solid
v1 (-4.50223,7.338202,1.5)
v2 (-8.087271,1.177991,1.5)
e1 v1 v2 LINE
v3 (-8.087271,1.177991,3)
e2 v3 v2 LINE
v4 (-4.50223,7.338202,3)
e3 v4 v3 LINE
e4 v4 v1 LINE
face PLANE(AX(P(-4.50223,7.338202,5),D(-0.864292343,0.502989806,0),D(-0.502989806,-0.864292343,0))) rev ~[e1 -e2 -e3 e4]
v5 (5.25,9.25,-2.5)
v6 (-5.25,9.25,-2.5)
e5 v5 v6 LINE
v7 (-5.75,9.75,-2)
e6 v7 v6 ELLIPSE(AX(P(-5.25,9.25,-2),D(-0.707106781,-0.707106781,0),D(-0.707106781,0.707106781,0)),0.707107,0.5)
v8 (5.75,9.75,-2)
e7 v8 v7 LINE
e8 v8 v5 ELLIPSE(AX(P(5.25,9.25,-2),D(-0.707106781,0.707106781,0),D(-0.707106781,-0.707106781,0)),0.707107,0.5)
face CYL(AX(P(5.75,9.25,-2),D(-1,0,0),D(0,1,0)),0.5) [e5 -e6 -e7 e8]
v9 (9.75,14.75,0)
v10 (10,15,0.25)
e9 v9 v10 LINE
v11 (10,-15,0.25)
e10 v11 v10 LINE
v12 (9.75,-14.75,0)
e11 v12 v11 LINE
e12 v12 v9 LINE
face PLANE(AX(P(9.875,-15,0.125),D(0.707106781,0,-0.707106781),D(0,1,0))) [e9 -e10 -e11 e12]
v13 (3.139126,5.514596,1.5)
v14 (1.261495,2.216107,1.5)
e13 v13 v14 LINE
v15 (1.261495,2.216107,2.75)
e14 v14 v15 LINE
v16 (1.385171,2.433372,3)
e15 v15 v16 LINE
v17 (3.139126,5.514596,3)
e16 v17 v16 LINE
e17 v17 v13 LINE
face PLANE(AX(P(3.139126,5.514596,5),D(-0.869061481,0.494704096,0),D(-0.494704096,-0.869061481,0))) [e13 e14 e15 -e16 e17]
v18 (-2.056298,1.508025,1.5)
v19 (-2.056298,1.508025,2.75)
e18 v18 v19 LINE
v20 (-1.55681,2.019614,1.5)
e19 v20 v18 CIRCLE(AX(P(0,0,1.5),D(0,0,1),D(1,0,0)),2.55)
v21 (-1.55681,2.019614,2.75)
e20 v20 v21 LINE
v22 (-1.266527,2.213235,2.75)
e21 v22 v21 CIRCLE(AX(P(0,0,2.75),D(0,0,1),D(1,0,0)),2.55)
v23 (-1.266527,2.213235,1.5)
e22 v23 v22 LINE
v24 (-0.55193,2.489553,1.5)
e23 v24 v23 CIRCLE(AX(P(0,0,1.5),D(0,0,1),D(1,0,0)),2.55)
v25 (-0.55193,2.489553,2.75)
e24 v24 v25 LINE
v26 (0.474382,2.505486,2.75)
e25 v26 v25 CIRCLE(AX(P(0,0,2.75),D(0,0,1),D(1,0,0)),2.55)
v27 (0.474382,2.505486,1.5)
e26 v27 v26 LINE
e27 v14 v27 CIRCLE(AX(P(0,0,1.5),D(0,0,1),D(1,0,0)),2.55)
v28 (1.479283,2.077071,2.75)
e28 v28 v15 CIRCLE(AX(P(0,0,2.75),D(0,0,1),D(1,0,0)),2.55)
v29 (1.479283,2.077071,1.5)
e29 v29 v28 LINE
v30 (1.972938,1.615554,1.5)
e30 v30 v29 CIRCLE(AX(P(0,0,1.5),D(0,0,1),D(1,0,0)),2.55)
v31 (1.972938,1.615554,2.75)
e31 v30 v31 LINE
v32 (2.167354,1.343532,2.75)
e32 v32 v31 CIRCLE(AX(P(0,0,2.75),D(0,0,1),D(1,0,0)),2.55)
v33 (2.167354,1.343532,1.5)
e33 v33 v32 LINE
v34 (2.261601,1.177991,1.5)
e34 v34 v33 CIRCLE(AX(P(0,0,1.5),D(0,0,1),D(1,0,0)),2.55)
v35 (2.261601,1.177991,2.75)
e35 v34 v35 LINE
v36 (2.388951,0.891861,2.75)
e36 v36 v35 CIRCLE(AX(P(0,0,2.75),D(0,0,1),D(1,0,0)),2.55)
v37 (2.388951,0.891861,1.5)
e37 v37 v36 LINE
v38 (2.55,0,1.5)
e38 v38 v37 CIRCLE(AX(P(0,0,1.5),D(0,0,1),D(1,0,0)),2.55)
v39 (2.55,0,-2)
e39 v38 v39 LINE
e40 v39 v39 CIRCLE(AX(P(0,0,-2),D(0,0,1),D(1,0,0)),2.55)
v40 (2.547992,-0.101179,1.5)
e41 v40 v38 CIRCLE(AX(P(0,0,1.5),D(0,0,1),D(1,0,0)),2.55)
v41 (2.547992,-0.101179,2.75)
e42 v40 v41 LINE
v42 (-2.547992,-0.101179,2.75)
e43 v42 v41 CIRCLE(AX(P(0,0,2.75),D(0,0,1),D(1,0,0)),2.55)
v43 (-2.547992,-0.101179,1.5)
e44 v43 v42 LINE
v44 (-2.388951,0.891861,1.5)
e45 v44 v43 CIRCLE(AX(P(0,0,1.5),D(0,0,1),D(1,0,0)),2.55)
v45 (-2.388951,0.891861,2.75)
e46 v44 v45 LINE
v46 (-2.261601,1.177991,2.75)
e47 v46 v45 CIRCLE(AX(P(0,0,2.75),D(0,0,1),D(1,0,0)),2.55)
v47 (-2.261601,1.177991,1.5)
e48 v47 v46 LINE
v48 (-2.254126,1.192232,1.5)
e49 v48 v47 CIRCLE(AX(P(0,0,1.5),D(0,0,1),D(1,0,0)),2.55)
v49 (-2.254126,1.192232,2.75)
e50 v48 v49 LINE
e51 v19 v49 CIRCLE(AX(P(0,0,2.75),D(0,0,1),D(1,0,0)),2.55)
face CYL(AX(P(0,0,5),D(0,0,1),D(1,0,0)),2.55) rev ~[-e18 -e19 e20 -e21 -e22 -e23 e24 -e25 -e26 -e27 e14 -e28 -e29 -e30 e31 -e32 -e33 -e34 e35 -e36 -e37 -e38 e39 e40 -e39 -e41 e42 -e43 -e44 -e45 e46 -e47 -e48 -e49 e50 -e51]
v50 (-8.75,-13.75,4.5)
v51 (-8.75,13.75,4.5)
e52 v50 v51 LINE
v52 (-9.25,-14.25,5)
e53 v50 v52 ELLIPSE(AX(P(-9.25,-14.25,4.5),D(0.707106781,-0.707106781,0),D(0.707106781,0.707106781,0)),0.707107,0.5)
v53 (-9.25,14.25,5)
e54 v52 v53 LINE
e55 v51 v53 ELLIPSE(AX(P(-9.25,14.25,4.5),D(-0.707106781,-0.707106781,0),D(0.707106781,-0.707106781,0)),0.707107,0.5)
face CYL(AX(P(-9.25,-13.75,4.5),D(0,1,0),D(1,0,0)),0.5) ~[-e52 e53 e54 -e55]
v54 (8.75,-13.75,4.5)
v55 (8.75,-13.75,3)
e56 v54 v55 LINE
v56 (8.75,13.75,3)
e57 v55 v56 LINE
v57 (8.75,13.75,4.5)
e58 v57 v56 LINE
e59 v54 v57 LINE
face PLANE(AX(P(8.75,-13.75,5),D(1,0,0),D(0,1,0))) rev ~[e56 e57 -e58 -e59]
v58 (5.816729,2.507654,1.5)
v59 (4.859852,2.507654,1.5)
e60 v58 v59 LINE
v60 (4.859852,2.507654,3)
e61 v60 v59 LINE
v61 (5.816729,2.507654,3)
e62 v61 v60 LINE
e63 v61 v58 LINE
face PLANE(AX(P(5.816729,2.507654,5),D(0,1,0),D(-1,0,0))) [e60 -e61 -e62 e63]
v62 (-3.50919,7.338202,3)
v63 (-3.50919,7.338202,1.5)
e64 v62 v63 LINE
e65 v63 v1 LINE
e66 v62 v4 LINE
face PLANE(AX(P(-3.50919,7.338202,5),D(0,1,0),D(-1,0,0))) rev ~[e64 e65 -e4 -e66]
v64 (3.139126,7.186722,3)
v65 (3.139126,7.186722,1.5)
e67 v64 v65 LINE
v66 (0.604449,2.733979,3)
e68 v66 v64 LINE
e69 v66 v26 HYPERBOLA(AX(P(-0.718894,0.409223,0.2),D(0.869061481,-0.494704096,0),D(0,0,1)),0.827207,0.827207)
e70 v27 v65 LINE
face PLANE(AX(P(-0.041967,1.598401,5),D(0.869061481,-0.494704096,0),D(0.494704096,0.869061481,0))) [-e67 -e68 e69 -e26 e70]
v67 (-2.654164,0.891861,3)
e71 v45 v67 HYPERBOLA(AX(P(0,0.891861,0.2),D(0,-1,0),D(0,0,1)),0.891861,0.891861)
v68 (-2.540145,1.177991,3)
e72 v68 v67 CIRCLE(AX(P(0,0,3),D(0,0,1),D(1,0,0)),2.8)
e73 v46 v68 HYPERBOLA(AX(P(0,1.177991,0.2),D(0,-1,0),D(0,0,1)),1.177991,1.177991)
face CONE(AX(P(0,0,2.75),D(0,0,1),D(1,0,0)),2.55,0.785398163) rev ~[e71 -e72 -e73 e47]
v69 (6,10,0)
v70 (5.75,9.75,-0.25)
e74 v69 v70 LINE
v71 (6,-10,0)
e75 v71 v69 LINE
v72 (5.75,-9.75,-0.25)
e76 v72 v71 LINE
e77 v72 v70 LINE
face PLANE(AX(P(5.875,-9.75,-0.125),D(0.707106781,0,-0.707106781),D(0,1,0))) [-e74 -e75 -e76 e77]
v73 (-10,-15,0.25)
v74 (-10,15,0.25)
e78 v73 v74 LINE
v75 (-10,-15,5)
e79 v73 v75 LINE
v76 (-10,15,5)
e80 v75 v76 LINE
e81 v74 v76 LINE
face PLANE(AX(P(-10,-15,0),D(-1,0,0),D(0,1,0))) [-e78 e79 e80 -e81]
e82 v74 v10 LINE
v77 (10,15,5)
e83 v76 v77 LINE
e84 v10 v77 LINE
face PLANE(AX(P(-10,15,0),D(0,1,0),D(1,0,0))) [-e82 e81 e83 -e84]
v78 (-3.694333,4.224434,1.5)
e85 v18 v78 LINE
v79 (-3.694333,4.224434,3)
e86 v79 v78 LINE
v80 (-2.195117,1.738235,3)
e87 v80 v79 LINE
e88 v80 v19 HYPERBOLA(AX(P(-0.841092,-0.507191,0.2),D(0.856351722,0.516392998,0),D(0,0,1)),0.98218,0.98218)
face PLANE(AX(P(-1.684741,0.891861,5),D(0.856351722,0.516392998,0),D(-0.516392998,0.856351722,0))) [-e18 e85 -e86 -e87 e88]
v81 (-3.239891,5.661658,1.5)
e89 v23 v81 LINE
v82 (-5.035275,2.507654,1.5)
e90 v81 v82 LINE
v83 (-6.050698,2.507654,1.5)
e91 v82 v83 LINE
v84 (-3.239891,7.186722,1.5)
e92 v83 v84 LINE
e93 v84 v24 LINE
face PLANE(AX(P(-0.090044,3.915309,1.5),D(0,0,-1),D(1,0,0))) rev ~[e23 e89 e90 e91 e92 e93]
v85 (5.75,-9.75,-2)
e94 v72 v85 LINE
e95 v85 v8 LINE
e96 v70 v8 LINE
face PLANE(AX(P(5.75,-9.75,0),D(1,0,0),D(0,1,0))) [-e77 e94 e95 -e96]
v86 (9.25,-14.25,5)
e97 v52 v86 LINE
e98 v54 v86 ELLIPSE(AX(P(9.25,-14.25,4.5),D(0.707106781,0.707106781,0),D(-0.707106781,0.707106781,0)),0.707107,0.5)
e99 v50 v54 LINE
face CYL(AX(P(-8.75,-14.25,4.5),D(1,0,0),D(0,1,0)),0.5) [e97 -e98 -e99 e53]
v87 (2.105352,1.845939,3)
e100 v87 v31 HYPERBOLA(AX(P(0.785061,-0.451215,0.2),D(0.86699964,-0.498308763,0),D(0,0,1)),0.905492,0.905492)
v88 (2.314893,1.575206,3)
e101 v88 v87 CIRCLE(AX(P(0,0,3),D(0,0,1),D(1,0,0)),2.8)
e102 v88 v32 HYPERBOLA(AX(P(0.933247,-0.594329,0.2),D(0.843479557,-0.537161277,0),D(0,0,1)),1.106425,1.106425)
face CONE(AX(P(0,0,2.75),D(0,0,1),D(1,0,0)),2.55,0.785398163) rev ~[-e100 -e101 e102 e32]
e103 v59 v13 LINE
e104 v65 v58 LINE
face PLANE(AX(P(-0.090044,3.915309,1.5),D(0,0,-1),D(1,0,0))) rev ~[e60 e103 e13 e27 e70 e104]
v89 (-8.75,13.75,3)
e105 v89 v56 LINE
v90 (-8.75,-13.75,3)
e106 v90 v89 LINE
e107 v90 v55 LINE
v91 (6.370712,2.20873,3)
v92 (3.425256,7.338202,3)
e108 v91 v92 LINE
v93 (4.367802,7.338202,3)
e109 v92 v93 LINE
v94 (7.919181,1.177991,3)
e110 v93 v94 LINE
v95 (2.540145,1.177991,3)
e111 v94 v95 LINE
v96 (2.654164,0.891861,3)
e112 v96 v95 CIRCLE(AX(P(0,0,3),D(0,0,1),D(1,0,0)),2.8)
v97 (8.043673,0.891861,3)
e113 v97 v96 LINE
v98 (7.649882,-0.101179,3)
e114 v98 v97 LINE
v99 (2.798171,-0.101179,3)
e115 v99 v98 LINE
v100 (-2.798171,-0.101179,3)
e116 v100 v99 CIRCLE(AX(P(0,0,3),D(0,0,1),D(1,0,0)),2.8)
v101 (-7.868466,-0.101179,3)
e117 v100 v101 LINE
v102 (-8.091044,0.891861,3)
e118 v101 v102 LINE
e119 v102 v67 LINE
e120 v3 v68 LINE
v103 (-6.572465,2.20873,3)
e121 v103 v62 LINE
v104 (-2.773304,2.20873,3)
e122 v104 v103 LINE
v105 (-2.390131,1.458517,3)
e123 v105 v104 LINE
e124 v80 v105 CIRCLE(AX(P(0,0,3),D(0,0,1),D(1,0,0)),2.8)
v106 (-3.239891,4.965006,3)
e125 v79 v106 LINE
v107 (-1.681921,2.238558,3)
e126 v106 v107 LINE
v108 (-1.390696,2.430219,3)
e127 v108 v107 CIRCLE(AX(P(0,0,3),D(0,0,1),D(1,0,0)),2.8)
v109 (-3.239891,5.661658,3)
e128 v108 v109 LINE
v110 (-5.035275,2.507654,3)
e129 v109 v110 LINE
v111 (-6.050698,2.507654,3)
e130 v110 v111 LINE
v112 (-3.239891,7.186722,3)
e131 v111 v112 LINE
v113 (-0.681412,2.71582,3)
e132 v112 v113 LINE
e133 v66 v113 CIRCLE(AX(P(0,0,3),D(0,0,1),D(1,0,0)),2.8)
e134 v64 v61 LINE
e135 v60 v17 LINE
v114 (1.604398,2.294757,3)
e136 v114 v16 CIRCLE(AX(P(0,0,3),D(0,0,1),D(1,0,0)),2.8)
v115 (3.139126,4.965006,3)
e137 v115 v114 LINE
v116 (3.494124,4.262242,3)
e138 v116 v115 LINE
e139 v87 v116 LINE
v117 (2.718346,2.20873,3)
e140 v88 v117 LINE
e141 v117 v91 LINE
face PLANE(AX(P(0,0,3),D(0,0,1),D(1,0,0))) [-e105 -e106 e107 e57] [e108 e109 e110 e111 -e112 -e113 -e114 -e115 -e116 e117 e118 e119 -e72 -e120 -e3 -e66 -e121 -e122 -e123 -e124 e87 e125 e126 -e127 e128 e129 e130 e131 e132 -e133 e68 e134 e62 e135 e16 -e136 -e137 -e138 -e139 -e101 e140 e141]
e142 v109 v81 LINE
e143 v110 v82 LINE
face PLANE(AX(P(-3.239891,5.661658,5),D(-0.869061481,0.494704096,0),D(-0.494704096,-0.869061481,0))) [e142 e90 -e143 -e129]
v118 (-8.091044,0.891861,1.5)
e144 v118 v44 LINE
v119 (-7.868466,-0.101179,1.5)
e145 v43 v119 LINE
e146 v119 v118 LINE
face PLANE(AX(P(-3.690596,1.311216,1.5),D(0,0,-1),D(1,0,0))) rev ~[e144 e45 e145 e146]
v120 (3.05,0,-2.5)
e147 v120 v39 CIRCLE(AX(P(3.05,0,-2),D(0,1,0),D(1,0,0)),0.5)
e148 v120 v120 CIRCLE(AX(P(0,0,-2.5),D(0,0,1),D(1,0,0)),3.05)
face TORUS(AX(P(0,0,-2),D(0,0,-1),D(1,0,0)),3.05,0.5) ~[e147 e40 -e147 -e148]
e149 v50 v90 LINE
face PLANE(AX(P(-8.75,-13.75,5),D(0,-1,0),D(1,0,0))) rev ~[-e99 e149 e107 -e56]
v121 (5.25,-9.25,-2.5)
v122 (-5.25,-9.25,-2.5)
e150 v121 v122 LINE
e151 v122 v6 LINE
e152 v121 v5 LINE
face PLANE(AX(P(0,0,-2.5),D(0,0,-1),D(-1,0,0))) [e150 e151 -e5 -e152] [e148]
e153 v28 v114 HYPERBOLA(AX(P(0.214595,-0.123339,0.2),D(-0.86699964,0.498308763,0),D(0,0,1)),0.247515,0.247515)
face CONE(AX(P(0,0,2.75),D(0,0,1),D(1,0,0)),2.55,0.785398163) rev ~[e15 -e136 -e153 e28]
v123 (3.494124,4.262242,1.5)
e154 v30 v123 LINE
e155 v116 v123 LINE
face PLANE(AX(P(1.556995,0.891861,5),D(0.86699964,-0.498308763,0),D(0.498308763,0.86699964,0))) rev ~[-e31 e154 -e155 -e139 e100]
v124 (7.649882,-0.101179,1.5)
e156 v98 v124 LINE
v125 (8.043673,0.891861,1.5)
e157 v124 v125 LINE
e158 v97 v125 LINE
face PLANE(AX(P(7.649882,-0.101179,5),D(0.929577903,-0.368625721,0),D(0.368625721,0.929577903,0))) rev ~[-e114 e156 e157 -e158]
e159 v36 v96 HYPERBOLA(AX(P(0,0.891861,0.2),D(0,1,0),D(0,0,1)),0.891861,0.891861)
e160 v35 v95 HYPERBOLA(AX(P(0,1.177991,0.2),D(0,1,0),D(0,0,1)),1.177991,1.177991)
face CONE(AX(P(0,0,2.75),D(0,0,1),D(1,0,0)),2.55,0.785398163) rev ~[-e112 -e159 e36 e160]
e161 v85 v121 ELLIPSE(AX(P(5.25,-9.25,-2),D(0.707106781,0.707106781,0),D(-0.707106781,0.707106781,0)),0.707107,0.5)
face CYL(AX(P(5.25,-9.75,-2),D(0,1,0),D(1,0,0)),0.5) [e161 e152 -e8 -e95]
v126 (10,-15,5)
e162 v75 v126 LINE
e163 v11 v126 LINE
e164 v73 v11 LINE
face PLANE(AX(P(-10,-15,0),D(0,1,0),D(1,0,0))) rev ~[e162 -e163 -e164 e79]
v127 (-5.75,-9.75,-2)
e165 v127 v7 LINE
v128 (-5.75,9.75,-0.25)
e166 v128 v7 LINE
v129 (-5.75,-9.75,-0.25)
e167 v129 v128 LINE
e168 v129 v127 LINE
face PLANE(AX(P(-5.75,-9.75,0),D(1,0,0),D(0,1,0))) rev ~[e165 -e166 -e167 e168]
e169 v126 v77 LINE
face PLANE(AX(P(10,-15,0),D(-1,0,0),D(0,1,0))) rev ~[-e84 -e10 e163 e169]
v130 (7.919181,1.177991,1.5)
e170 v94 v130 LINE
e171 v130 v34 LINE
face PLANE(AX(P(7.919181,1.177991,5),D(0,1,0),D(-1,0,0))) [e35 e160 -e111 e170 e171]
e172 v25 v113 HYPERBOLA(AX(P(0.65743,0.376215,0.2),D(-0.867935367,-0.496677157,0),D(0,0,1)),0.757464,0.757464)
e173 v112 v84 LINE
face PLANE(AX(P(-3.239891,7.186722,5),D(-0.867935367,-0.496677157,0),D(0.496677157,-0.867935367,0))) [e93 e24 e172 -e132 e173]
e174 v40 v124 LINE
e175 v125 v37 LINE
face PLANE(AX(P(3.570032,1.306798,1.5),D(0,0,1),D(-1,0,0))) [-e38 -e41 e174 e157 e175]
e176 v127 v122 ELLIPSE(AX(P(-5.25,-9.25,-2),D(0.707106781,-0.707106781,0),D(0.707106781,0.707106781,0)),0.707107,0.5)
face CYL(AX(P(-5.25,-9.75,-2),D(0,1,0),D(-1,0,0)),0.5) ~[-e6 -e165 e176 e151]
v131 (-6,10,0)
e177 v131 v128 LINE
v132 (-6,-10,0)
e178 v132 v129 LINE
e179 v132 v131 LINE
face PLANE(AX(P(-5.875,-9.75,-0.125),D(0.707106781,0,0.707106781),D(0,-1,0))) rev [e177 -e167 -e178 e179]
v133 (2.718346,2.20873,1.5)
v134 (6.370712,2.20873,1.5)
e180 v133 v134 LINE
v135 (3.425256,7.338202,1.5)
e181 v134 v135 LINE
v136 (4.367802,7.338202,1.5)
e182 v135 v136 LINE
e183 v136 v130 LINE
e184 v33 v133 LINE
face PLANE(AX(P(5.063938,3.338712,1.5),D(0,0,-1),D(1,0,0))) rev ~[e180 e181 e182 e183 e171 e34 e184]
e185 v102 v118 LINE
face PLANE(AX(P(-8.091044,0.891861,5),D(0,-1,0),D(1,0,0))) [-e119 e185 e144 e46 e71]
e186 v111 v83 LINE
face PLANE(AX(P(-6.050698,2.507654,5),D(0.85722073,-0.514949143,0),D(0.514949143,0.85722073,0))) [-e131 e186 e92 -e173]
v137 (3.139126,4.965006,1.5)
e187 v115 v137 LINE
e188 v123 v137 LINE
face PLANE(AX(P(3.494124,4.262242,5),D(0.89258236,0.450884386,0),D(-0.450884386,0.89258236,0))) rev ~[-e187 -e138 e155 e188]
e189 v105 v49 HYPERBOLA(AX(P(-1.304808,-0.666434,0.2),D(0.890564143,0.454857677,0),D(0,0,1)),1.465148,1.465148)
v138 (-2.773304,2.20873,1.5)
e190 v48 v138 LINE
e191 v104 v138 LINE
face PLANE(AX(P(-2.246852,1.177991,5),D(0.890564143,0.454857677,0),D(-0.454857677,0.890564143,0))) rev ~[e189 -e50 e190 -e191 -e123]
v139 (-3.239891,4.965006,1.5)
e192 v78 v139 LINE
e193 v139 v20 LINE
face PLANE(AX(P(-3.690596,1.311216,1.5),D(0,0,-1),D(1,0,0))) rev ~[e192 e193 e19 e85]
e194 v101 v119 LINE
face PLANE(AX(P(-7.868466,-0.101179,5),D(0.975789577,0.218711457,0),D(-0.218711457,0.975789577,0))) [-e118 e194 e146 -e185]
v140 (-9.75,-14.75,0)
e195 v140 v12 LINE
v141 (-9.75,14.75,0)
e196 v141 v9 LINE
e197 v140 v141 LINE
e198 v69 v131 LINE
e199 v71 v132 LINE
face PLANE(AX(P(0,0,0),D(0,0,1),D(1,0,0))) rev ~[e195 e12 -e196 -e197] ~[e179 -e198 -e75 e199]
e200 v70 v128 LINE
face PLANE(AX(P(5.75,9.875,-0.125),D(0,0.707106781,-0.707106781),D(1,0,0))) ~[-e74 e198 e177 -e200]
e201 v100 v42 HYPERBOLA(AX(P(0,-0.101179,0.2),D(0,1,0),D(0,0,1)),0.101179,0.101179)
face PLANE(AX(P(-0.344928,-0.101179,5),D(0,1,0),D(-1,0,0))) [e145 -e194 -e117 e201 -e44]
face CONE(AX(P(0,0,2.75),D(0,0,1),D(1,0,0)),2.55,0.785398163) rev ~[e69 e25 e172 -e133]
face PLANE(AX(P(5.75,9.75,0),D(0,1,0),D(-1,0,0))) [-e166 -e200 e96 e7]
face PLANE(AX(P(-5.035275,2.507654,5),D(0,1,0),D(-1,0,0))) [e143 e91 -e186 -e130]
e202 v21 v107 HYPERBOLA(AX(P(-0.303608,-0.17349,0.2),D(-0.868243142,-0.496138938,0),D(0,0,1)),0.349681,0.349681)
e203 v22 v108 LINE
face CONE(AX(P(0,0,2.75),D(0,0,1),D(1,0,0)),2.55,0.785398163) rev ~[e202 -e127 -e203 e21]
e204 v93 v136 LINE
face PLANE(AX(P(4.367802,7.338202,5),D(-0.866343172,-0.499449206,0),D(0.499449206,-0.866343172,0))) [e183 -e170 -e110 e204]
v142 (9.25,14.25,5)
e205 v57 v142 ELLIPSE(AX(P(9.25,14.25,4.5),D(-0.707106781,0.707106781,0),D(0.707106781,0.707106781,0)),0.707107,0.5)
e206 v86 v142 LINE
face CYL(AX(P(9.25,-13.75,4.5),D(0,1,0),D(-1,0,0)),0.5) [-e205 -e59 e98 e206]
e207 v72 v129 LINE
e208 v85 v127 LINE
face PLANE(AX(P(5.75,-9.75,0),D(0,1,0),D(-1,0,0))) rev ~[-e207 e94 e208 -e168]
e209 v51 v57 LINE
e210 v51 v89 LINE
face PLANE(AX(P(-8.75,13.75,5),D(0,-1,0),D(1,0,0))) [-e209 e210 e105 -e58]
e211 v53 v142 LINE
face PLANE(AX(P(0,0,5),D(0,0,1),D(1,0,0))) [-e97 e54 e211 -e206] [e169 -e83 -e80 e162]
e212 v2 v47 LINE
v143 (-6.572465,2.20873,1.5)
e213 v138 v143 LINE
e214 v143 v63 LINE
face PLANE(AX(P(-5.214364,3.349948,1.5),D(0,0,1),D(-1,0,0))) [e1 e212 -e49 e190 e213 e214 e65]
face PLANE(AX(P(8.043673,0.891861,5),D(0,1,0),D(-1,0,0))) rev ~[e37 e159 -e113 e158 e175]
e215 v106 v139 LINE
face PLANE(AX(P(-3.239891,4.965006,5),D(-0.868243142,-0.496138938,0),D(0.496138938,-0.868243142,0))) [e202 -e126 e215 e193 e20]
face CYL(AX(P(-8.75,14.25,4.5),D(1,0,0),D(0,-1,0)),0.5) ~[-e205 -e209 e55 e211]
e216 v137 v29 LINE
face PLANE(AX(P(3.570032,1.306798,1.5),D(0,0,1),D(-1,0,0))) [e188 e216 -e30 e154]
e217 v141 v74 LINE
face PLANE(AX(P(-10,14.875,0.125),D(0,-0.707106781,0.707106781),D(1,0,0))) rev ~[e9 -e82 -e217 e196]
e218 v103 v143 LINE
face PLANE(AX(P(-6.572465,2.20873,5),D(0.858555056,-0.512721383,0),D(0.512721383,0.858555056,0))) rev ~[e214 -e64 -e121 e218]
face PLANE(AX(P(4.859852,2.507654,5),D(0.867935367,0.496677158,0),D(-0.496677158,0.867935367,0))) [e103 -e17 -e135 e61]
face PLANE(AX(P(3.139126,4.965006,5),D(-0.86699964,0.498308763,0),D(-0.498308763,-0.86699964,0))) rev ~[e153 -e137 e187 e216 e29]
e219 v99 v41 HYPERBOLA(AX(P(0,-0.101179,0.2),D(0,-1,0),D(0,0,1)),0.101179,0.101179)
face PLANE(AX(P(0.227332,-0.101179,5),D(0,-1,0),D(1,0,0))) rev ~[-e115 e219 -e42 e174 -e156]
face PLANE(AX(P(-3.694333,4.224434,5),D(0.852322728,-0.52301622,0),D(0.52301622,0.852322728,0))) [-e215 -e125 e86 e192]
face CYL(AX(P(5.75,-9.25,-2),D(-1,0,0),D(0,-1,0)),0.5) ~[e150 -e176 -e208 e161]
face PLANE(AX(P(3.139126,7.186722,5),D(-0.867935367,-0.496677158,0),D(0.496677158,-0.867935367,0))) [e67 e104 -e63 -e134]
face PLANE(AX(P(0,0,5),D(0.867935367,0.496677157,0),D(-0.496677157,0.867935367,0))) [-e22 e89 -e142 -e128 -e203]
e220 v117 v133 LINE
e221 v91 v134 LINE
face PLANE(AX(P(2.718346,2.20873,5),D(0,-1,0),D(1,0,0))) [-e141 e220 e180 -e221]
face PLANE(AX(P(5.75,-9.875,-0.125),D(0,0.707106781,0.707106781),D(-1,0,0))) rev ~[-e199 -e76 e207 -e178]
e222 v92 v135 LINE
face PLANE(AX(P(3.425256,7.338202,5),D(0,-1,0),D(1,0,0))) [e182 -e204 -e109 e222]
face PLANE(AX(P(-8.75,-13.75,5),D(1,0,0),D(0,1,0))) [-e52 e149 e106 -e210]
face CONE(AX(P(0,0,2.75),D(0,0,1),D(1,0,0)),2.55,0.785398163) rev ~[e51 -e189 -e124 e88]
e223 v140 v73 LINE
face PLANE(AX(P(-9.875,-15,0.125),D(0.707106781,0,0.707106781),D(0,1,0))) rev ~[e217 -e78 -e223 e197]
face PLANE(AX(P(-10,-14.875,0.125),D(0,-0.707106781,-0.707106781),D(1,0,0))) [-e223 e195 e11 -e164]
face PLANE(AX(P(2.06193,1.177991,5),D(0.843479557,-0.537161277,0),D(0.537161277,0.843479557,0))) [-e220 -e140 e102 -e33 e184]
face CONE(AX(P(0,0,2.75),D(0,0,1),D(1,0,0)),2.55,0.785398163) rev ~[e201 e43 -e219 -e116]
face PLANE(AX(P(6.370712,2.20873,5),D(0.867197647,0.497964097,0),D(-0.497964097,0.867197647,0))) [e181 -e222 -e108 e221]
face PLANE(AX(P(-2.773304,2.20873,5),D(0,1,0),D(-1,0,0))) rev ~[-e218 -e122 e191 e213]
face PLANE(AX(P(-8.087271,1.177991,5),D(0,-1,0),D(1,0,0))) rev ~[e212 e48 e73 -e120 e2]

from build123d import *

# Parameters (mm, degrees)
SKETCH1_W           = 20
SKETCH1_H           = 30
BOSS_EXTRUDE1_DEPTH = 5
SKETCH4_W           = 11.5
SKETCH4_H           = 19.5
BOSS_EXTRUDE2_DEPTH = 2.5
SKETCH2_R           = 2.55
CUT_EXTRUDE1_DEPTH  = 8.5
SKETCH3_W           = 17.5
SKETCH3_H           = 27.5
CUT_EXTRUDE2_DEPTH  = 2
FILLET1_R           = 0.5
CHAMFER1_SIZE       = 0.25
CHAMFER2_SIZE       = 0.25
FILLET2_R           = 0.5
CUT_EXTRUDE5_DEPTH  = 3.5


with BuildPart() as part:
    # Sketch1 → Boss-Extrude1 (new body)
    with BuildSketch(Plane.XY):
        Rectangle(SKETCH1_W, SKETCH1_H)
    extrude(amount=BOSS_EXTRUDE1_DEPTH)

    # Sketch4 → Boss-Extrude2 (add)
    with BuildSketch(Plane(origin=(0, 0, 0), x_dir=(-1, 0, 0), z_dir=(0, 0, -1))):
        Rectangle(SKETCH4_W, SKETCH4_H)
    extrude(amount=BOSS_EXTRUDE2_DEPTH)

    # Sketch2 → Cut-Extrude1 (cut, through all)
    with BuildSketch(Plane.XY.offset(5)):
        Circle(SKETCH2_R)
    extrude(amount=-CUT_EXTRUDE1_DEPTH, mode=Mode.SUBTRACT)

    # Sketch3 → Cut-Extrude2 (cut)
    with BuildSketch(Plane.XY.offset(5)):
        Rectangle(SKETCH3_W, SKETCH3_H)
    extrude(amount=-CUT_EXTRUDE2_DEPTH, mode=Mode.SUBTRACT)

    # Fillet1
    fillet1_edges = [part.edges().sort_by_distance(p)[0] for p in [
        (-5.75, 0, -2.5),
        (0, 9.75, -2.5),
        (5.75, 0, -2.5),
        (0, -9.75, -2.5),
        (-2.55, 0, -2.5),
    ]]
    fillet(fillet1_edges, radius=FILLET1_R)

    # Chamfer1
    chamfer1_edges = [part.edges().sort_by_distance(p)[0] for p in [
        (-5.75, 0, 0),
        (0, 9.75, 0),
        (5.75, 0, 0),
        (0, -9.75, 0),
        (0, -15, 0),
        (-10, 0, 0),
        (0, 15, 0),
        (10, 0, 0),
    ]]
    chamfer(chamfer1_edges, length=CHAMFER1_SIZE)

    # Chamfer2
    chamfer2_edges = [part.edges().sort_by_distance(p)[0] for p in [
        (-2.55, 0, 3),
    ]]
    chamfer(chamfer2_edges, length=CHAMFER2_SIZE)

    # Fillet2
    fillet2_edges = [part.edges().sort_by_distance(p)[0] for p in [
        (8.75, 0, 5),
        (0, 13.75, 5),
        (-8.75, 0, 5),
        (0, -13.75, 5),
    ]]
    fillet(fillet2_edges, radius=FILLET2_R)

    # Mobious Logo → Cut-Extrude5 (cut)
    with BuildSketch(Plane(origin=(0, 0, 5), x_dir=(-1, 0, 0), z_dir=(0, 0, 1))):
        Polygon((3.509190245, -7.338202372), (4.502229849, -7.338202372), (8.08727113, -1.177990592), (2.246851765, -1.177990592), (2.773304458, -2.208730349), (6.572464955, -2.208730349), align=None)
        Polygon((3.694333222, -4.224434122), (3.239891369, -4.96500603), (0.344928456, 0.101179067), (7.868465794, 0.101179067), (8.091043636, -0.891860536), (1.68474111, -0.891860536), align=None)
        Polygon((6.050698383, -2.50765379), (3.239891369, -7.186721754), (0.041967221, -1.598400594), (-3.139125747, -7.186721754), (-5.816728556, -2.50765379), (-4.85985244, -2.50765379), (-3.139125747, -5.514596088), (0, 0), (3.239891369, -5.661658206), (5.035275167, -2.50765379), align=None)
        Polygon((-3.425255803, -7.338202372), (-4.367801867, -7.338202372), (-7.91918079, -1.177990592), (-2.061930245, -1.177990592), (-2.718346254, -2.208730349), (-6.370712255, -2.208730349), align=None)
        Polygon((-3.139125747, -4.96500603), (-0.227331655, 0.101179067), (-7.649881914, 0.101179067), (-8.043673481, -0.891860536), (-1.556994853, -0.891860536), (-3.494124276, -4.262241786), align=None)
    extrude(amount=-CUT_EXTRUDE5_DEPTH, mode=Mode.SUBTRACT)


solid = part.part
